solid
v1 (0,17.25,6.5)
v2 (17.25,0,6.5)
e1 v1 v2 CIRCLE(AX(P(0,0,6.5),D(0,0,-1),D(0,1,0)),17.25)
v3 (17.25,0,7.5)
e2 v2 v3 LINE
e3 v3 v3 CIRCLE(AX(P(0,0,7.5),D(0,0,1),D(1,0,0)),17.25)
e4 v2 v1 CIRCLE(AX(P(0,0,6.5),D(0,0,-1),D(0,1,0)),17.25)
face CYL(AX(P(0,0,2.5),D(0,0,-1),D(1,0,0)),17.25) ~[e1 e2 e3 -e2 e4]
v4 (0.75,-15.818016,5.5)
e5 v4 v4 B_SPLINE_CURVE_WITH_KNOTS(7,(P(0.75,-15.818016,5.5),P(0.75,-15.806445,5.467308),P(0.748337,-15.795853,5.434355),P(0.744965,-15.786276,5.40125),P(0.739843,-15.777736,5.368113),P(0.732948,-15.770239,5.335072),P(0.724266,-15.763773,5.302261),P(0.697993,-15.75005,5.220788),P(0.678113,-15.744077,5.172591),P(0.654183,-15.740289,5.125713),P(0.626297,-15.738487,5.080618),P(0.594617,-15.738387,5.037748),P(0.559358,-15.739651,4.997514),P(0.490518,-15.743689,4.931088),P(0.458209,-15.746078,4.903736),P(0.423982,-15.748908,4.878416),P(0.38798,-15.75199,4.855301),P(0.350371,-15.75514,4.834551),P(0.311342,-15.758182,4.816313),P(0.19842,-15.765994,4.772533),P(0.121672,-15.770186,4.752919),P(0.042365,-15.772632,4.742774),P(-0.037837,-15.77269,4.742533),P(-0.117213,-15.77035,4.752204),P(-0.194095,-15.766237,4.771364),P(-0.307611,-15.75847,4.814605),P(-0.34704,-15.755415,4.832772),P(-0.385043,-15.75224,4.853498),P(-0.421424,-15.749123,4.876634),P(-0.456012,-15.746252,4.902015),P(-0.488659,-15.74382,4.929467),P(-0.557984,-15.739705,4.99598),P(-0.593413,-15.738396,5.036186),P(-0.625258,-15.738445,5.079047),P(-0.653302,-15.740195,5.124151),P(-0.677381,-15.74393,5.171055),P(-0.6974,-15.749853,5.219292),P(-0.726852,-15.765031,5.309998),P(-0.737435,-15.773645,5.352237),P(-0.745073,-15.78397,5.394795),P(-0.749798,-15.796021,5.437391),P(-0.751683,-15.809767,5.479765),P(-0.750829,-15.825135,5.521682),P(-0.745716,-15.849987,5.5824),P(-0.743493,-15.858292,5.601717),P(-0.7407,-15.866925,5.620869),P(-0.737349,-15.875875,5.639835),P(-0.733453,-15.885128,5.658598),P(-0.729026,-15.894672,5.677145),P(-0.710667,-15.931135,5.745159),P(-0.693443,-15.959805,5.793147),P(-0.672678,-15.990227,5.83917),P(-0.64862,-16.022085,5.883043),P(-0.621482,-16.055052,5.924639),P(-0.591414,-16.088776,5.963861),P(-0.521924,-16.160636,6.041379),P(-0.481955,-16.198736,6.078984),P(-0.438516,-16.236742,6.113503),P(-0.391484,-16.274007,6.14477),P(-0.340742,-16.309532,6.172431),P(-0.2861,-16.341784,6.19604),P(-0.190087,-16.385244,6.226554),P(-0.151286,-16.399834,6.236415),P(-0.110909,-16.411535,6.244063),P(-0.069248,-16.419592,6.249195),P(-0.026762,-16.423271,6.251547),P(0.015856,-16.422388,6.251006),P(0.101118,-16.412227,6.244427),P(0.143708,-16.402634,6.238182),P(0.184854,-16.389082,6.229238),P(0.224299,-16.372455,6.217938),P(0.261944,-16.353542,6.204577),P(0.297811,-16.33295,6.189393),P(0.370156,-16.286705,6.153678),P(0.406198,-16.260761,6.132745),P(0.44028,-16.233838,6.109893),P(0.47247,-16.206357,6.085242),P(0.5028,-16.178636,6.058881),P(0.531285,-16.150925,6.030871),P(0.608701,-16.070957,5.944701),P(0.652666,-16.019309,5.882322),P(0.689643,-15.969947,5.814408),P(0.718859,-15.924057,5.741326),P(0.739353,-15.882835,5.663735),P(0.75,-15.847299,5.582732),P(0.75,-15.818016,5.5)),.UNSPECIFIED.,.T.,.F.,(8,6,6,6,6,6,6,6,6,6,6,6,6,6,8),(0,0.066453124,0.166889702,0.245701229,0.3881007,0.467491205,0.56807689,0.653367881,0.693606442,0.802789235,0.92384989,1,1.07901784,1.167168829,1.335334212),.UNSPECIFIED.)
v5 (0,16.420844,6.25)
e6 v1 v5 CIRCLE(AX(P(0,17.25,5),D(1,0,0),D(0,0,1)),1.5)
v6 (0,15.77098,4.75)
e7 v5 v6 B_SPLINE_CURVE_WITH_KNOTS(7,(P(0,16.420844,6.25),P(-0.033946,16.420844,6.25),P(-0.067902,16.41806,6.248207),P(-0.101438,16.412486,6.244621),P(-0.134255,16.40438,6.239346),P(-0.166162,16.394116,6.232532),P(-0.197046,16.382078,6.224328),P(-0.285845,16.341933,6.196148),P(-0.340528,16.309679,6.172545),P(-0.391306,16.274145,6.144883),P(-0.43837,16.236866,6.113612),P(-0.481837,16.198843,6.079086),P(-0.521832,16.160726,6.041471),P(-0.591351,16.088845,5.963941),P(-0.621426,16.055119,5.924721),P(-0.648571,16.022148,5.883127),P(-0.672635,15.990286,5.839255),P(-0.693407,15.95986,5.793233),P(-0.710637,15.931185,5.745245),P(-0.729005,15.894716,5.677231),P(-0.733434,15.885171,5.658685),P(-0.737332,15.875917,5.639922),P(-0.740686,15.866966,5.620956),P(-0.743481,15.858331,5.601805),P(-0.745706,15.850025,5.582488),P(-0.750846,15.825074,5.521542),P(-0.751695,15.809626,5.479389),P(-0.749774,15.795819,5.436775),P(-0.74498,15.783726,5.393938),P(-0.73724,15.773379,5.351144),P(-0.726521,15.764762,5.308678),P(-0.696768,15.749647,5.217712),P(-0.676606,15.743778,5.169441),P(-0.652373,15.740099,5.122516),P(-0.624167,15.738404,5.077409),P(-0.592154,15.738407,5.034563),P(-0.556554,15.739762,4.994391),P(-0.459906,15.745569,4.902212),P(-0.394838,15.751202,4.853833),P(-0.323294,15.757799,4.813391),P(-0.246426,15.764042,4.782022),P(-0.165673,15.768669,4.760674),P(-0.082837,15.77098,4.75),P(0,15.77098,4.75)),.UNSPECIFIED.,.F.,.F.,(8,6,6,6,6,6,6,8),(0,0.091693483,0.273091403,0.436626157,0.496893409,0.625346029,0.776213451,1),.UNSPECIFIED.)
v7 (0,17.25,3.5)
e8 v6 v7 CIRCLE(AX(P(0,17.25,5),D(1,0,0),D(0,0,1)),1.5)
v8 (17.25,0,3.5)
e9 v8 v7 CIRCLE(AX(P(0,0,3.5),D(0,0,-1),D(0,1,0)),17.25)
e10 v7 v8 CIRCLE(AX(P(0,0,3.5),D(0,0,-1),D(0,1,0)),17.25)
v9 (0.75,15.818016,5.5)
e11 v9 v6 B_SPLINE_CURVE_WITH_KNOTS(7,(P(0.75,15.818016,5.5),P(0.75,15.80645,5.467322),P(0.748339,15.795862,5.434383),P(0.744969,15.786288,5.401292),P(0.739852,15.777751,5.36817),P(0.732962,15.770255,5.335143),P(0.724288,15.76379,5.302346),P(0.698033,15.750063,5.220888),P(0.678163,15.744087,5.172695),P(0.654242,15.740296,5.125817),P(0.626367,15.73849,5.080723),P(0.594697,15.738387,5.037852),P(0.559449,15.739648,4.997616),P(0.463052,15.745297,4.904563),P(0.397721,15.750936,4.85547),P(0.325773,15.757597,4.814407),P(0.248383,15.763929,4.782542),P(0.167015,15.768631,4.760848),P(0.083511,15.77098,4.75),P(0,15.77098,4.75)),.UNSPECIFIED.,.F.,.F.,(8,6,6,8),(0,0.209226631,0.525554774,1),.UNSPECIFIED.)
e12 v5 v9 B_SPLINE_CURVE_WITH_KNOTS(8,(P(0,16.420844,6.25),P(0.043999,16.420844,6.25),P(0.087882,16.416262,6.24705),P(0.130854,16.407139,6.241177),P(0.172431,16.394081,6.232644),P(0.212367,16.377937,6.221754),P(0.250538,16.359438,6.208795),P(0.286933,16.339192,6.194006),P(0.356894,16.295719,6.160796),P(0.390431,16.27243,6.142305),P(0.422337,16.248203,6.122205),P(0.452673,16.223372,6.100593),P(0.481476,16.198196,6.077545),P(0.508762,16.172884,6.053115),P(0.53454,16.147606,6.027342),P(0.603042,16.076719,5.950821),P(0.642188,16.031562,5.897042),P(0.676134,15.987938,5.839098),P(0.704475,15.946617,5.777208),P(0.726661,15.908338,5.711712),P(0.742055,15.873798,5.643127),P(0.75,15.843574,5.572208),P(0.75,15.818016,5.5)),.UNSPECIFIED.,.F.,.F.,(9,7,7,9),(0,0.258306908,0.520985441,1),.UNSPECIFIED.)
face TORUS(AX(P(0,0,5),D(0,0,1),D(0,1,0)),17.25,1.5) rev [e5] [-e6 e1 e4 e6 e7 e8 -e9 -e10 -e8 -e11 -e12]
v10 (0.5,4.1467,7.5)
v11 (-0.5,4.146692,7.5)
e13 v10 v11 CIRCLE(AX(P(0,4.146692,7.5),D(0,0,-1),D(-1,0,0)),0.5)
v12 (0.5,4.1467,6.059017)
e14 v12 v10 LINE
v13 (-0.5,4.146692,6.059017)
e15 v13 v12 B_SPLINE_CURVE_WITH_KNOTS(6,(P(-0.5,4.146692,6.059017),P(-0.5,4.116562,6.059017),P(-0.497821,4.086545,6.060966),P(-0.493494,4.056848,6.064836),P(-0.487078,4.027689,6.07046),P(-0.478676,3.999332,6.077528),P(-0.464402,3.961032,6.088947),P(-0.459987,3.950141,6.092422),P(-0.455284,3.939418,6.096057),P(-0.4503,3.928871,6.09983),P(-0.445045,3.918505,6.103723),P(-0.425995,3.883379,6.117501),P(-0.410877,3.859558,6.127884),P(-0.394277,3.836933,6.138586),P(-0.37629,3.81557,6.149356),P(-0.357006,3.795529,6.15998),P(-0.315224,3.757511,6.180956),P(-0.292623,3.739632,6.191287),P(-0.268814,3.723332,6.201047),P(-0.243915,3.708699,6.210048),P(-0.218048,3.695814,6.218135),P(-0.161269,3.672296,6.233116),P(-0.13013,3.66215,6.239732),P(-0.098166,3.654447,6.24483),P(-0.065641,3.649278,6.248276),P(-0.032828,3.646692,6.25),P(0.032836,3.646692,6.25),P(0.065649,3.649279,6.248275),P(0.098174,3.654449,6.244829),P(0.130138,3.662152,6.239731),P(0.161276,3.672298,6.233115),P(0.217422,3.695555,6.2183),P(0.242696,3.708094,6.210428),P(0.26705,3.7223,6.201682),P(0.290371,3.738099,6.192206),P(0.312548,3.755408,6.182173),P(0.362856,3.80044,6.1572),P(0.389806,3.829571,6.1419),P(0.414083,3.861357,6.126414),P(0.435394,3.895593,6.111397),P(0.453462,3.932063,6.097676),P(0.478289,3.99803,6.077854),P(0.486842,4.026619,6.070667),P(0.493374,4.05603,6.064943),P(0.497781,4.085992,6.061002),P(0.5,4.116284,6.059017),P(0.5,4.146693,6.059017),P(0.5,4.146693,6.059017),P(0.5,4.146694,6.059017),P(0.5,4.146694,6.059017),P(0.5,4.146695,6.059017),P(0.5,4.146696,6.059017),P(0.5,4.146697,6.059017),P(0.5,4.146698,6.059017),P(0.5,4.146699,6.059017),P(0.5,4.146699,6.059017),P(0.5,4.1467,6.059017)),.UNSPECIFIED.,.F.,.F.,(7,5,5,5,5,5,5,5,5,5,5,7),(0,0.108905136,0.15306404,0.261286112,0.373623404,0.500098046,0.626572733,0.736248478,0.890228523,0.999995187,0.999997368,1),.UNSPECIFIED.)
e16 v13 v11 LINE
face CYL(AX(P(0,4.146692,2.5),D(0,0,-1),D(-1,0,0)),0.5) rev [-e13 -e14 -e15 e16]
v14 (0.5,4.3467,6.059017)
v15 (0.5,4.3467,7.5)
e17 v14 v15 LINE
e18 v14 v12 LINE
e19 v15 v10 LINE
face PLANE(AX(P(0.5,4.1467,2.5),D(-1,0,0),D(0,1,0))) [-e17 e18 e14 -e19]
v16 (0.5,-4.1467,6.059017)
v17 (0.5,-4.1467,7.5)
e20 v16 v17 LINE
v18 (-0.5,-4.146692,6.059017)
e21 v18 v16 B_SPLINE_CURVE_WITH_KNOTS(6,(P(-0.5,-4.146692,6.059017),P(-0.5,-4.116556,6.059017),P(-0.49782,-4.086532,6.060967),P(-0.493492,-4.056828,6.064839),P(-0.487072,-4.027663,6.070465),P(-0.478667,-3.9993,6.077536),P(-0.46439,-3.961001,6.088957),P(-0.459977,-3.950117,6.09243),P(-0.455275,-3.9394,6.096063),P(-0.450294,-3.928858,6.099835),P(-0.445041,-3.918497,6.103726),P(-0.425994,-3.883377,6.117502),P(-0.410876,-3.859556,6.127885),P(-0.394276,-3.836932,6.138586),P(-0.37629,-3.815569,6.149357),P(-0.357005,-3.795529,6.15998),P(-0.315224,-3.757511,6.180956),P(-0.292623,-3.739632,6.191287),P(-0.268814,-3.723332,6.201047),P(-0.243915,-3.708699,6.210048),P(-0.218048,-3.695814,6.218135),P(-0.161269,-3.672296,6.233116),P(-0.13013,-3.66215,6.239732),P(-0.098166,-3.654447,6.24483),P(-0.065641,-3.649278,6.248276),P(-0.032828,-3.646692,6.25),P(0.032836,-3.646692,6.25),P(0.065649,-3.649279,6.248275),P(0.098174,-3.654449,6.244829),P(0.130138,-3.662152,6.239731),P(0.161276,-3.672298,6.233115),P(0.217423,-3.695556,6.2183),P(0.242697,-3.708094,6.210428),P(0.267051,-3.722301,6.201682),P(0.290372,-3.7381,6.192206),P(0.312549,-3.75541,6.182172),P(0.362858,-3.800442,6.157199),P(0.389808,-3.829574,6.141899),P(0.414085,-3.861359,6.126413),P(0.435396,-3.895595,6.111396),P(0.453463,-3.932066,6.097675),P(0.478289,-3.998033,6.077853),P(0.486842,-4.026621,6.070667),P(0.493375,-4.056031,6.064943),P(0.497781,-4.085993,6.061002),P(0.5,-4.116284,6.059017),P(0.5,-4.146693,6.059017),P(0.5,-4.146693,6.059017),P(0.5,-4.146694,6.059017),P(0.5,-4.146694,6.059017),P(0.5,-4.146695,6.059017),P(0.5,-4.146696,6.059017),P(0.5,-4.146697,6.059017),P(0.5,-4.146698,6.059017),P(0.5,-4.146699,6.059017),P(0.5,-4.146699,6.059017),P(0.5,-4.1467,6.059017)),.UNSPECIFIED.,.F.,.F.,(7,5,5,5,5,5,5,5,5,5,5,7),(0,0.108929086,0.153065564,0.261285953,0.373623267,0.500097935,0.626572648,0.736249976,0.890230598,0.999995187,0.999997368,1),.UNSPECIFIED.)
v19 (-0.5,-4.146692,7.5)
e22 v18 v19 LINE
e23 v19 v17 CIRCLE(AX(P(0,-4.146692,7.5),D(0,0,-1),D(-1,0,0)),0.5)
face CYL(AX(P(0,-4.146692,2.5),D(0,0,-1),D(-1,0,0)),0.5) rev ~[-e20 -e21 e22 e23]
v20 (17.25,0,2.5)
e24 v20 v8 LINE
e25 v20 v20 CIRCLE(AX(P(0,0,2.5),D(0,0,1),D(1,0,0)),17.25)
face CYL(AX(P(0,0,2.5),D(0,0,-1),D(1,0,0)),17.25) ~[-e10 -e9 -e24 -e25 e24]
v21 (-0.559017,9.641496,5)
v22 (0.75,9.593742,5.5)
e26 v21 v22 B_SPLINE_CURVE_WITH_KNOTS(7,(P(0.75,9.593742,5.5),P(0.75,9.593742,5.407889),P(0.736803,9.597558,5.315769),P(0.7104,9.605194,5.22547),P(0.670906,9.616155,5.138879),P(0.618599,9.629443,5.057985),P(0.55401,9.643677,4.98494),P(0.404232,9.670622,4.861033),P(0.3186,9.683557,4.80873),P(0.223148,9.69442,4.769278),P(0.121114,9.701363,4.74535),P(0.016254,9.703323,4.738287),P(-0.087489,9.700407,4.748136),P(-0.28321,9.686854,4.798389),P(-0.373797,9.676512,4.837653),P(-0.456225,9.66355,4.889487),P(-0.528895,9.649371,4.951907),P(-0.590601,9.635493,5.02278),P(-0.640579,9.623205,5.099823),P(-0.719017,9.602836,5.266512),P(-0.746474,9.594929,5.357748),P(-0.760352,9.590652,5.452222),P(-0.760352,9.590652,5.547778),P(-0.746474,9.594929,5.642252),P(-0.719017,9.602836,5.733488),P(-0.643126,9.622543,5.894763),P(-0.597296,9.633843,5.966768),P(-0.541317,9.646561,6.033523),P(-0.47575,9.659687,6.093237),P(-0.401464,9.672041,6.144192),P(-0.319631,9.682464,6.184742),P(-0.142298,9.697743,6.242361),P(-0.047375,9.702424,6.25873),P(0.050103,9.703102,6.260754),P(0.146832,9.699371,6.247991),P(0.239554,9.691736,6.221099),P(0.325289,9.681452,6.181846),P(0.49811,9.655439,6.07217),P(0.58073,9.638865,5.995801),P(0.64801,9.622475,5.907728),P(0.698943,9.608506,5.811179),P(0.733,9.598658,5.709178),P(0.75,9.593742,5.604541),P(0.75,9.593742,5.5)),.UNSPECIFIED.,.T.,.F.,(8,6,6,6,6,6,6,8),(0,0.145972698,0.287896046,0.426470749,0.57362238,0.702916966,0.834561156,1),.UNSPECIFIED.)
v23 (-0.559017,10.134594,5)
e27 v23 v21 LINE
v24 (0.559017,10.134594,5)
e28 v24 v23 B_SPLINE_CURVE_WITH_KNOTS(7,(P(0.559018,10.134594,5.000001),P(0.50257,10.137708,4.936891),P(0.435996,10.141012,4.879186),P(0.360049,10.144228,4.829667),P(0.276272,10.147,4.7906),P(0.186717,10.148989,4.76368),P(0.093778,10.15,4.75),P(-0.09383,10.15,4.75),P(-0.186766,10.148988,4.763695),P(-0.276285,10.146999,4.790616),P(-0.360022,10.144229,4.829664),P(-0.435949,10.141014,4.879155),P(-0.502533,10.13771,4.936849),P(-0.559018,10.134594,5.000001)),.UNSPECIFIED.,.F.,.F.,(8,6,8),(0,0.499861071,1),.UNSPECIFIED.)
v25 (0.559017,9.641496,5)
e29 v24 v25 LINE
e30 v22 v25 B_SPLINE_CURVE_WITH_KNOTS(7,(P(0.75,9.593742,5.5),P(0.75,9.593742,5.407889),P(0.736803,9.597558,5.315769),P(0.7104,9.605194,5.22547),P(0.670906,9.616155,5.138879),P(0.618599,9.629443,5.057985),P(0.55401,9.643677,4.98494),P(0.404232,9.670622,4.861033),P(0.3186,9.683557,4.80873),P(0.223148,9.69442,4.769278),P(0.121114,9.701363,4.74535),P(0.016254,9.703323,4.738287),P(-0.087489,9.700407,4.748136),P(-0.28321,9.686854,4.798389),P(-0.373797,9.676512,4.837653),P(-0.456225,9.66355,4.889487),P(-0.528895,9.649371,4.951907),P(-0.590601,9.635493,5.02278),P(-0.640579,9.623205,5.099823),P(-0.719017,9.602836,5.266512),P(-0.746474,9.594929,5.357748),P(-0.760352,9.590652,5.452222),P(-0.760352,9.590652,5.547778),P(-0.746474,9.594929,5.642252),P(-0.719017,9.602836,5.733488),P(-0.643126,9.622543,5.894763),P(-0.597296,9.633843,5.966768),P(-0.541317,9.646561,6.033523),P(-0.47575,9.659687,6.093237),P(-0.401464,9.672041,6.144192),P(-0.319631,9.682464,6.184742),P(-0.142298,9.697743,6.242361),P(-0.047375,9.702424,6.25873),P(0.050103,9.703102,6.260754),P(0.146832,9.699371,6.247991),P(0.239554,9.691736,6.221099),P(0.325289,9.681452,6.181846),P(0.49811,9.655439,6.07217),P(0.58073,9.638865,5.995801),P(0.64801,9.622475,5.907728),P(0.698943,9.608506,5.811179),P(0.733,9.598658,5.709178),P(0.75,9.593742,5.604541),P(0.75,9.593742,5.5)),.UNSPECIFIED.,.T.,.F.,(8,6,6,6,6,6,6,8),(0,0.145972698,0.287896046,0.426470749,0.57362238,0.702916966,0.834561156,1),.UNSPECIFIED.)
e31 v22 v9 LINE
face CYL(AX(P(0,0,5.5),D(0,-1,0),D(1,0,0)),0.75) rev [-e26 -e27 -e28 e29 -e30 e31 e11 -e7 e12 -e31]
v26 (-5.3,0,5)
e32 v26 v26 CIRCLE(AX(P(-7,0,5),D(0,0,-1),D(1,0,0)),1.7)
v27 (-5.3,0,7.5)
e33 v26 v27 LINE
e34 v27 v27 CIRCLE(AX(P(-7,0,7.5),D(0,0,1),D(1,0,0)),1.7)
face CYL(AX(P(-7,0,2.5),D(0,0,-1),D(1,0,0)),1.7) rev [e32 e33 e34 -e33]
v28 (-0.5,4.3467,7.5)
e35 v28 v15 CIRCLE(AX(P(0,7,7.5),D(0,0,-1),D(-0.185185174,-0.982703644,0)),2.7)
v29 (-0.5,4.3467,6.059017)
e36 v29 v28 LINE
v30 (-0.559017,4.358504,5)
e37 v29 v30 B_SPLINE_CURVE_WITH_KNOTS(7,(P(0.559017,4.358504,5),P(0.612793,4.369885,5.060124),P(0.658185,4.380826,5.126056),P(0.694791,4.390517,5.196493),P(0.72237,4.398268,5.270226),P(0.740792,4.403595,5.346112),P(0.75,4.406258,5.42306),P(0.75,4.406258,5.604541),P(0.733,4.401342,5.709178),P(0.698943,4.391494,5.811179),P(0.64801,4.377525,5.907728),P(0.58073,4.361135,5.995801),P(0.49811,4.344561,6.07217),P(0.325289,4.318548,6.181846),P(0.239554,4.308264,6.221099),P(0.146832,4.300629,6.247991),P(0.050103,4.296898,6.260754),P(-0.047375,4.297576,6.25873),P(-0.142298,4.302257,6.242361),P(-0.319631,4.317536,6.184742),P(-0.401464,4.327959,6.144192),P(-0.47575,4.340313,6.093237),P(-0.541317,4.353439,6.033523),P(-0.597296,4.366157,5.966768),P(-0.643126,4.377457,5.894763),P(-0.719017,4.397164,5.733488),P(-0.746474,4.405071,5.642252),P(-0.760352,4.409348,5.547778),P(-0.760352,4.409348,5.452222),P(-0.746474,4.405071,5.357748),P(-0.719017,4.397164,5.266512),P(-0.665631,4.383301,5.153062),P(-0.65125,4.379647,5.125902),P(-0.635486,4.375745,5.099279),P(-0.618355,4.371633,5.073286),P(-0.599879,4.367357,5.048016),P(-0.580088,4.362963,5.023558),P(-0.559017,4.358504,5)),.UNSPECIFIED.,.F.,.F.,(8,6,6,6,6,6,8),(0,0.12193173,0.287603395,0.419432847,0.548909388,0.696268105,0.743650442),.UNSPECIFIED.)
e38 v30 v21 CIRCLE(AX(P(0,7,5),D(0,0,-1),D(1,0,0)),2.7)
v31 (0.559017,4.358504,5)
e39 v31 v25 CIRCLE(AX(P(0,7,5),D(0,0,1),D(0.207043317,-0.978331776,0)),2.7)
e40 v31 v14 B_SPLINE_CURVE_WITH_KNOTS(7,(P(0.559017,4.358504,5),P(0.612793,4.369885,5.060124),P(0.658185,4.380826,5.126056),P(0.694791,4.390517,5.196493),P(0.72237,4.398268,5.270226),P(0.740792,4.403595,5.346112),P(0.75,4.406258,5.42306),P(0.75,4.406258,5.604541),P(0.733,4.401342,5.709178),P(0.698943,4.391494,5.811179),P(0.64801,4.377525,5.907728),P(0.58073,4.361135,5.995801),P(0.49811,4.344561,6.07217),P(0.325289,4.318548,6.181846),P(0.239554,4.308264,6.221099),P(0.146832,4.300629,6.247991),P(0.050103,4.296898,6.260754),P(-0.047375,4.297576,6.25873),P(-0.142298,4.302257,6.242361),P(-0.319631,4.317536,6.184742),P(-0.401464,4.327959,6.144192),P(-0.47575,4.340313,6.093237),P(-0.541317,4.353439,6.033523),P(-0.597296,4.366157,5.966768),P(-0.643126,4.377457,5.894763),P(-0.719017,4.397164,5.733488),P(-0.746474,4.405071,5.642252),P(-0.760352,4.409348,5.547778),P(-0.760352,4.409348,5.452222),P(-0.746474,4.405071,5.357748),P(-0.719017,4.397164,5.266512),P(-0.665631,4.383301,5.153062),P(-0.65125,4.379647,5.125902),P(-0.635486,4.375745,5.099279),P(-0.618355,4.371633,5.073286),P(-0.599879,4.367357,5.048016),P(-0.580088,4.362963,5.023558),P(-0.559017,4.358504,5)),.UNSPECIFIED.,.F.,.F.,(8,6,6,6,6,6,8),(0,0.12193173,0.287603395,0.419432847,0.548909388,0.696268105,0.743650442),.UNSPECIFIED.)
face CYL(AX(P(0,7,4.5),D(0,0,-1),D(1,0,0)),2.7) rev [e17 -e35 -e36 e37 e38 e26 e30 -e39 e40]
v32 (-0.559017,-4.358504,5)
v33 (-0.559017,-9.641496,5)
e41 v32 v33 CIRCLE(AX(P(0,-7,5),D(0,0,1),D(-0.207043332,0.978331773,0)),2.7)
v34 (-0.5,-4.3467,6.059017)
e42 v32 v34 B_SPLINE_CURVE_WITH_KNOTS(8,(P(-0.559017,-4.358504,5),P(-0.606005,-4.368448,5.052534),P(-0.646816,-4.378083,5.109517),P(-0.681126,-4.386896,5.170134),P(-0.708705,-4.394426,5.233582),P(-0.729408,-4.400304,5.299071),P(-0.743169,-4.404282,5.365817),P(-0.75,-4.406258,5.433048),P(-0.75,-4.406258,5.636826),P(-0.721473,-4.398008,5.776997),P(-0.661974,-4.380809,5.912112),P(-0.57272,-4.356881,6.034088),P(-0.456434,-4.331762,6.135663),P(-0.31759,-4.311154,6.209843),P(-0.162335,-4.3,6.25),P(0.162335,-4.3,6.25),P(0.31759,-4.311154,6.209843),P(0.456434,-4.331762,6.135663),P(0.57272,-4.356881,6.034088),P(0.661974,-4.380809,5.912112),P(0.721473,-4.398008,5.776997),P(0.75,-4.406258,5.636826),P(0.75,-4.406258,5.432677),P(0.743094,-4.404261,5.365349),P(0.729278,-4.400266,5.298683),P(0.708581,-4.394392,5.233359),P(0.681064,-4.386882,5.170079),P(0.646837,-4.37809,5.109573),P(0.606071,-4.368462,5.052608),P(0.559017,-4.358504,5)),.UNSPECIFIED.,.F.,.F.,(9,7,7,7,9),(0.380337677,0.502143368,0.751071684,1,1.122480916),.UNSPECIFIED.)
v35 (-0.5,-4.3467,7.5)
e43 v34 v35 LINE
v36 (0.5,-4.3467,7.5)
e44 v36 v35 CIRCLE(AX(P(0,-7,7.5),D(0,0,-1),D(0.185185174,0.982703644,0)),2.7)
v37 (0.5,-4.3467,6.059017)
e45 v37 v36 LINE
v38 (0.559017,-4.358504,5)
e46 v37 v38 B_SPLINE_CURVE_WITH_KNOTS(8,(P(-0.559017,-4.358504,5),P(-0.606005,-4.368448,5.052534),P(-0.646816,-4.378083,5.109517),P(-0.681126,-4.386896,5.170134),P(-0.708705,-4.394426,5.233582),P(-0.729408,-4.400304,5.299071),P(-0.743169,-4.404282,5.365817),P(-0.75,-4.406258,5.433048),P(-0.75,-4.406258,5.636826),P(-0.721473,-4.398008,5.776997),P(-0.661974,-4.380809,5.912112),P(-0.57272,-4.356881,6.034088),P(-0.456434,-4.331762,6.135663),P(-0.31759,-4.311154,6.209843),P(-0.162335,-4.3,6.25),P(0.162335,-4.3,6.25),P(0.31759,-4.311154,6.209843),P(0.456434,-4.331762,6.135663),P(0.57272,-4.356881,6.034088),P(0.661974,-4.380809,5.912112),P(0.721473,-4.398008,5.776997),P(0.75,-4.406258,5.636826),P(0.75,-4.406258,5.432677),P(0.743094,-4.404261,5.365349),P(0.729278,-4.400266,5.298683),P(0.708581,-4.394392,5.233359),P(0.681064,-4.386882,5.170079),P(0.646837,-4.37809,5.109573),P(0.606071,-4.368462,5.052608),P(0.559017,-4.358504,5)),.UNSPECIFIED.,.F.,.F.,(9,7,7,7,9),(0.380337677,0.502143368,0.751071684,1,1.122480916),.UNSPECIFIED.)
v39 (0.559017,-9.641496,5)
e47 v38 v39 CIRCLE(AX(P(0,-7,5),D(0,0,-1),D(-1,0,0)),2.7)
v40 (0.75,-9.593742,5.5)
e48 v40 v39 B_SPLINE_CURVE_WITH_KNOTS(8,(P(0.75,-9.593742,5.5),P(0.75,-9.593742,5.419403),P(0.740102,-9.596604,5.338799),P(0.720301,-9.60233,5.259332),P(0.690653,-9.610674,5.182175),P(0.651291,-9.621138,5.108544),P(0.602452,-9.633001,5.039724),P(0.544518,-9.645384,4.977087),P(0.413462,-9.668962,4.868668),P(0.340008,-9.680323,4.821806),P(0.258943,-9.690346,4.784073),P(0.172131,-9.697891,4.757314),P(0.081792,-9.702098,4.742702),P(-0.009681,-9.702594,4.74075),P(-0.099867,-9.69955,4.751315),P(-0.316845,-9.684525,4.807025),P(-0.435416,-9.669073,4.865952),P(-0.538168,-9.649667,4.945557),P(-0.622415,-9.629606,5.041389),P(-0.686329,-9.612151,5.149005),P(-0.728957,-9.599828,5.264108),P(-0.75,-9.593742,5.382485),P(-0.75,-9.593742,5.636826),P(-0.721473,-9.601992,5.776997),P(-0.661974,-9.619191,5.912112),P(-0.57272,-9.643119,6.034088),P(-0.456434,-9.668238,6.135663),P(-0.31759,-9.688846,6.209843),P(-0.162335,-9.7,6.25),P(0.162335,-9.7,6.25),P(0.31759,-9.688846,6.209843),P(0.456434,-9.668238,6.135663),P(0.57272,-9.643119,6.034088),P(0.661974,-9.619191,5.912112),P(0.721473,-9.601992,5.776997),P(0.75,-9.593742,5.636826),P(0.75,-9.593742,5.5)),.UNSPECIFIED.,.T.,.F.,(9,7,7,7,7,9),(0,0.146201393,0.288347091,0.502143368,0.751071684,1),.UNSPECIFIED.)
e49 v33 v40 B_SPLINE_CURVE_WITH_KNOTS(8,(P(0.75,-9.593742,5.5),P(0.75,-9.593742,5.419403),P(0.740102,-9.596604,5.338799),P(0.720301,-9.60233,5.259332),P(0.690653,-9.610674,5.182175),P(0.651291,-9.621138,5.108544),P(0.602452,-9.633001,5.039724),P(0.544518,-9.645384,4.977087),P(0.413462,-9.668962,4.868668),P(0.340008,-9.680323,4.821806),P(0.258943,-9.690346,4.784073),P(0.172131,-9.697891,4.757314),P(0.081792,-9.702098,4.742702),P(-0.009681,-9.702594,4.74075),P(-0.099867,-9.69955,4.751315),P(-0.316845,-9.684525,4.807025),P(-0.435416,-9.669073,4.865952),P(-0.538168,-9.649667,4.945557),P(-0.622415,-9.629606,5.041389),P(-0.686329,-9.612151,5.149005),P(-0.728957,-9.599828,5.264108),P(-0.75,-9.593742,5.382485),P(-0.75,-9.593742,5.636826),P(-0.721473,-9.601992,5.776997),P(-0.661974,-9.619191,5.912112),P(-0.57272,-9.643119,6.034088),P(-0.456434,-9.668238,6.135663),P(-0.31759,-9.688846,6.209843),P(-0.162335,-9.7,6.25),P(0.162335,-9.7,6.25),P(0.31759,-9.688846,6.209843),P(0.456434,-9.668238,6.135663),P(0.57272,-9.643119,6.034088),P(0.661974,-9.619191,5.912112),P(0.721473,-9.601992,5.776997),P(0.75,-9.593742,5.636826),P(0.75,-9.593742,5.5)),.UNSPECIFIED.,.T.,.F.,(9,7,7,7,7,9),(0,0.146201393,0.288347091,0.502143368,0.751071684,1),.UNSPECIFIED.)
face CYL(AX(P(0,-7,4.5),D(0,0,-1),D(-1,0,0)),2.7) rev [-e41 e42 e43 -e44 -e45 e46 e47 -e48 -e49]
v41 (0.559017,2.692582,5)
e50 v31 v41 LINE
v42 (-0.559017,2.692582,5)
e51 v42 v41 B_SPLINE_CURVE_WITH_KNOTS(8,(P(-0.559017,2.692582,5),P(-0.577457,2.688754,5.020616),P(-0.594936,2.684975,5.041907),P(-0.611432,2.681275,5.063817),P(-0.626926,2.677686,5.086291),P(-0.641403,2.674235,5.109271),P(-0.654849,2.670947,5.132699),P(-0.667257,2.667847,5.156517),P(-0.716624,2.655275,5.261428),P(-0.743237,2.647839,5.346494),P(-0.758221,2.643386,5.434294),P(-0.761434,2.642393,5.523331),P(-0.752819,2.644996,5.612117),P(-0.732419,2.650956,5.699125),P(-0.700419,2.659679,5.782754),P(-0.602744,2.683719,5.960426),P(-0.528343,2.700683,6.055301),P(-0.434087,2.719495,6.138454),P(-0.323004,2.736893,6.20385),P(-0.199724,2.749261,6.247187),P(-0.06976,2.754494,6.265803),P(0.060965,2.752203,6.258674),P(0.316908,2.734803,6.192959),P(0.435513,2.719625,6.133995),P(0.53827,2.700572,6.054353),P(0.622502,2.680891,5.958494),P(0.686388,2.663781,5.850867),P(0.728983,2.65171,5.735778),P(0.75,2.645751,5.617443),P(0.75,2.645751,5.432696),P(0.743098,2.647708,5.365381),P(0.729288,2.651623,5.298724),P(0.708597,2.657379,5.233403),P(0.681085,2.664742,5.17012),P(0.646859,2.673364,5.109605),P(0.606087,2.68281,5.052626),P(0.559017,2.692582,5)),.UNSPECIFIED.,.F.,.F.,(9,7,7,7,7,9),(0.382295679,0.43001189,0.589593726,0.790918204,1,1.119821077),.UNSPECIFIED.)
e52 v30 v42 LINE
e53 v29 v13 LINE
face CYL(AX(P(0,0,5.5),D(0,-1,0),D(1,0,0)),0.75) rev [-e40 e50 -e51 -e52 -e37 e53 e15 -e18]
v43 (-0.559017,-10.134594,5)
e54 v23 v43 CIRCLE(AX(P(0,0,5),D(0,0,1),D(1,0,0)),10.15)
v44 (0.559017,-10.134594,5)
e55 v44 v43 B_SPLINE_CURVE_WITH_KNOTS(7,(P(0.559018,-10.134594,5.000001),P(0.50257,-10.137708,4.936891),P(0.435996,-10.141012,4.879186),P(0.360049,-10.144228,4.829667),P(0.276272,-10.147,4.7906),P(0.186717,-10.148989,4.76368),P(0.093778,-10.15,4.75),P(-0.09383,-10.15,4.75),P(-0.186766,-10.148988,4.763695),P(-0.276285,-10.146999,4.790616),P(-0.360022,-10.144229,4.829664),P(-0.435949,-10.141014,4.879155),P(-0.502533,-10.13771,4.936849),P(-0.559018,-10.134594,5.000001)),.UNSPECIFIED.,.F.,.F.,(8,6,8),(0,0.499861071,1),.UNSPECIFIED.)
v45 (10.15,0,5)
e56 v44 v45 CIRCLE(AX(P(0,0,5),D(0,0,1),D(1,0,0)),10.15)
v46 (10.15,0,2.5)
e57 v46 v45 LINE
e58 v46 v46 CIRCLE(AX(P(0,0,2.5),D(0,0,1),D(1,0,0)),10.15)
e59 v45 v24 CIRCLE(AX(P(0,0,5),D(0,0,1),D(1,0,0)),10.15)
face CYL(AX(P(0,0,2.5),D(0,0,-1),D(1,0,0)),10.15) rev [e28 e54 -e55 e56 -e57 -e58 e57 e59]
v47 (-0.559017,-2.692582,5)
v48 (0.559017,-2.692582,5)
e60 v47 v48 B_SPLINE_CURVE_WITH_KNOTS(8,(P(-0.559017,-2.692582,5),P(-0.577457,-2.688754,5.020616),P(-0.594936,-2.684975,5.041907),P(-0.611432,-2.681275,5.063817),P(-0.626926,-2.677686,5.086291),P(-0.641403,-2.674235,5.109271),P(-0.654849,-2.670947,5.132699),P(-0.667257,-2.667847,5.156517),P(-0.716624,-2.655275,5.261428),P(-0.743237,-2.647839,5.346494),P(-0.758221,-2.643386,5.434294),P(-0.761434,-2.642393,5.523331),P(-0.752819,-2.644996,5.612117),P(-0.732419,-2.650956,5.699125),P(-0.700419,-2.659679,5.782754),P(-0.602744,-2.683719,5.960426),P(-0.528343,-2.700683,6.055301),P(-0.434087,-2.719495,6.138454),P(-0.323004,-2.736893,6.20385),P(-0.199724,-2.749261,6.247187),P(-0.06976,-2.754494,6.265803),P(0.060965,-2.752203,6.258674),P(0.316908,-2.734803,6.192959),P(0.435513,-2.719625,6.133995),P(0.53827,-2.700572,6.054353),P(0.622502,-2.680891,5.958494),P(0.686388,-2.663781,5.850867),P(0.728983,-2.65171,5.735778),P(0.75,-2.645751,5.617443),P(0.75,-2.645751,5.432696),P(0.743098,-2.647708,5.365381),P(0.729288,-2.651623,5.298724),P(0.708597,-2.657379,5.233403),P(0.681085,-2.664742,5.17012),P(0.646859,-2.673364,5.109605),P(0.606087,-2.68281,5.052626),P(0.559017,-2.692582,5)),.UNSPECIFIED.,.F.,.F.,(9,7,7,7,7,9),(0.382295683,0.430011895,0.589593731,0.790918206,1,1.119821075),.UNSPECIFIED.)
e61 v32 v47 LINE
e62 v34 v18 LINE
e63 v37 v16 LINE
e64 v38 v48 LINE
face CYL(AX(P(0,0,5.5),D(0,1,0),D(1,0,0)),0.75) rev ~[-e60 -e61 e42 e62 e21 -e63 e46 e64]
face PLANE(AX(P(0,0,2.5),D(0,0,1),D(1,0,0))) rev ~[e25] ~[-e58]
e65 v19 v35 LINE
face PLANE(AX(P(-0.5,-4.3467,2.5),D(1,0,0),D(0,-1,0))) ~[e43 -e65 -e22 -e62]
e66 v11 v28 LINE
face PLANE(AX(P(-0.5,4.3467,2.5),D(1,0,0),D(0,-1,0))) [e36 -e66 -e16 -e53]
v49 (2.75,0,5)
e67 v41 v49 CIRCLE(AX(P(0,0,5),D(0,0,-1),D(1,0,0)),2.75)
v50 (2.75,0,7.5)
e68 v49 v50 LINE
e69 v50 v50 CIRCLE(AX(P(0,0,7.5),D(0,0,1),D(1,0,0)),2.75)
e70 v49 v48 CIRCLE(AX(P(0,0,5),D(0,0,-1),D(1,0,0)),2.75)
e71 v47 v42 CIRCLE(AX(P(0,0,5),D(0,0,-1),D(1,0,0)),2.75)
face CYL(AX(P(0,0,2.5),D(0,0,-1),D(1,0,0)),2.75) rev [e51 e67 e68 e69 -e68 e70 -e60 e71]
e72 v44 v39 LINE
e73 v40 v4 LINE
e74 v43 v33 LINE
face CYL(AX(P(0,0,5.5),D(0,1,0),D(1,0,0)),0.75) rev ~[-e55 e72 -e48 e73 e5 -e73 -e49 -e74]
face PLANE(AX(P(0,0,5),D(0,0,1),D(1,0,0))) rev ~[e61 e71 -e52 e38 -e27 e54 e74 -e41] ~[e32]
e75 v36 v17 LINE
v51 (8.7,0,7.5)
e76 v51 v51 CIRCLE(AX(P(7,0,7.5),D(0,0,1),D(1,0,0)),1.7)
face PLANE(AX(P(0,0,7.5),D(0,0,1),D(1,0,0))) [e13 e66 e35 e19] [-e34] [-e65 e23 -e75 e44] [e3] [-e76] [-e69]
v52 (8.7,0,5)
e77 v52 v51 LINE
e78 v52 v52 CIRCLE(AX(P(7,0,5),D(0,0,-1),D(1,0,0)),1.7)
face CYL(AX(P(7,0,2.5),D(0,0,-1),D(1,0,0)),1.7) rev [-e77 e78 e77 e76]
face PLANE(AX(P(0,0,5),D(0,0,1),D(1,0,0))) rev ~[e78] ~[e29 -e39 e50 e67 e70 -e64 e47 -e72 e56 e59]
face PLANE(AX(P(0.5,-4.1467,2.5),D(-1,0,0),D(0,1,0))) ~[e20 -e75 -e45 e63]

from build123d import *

# Parameters (mm, degrees)
SKETCH065_R             = 17.25
SKETCH065_R_2           = 2.75
SKETCH065_R_3           = 1.7
PAD030_DEPTH            = 5
SKETCH066_R             = 2.7
POCKET034_DEPTH         = 101.092794
POLARPATTERN006_COUNT   = 2
SKETCH068_R             = 0.75
POCKET035_DEPTH         = 17.251
POCKET035_DEPTH_BACK    = 17.251
SKETCH078_R             = 10.15
POCKET045_DEPTH         = 2.5
POCKET046_DEPTH         = 103.092794
BODY017_PLACEMENT_ANGLE = 270


with BuildPart() as part:
    # Sketch065 → Pad030 (new body)
    with BuildSketch(Plane.XZ):
        Circle(SKETCH065_R)
        Circle(SKETCH065_R_2, mode=Mode.SUBTRACT)
        with Locations((0, 7)):
            Circle(SKETCH065_R_3, mode=Mode.SUBTRACT)
        with Locations((-7, 0)):
            Circle(SKETCH065_R_3, mode=Mode.SUBTRACT)
        with Locations((0, -7)):
            Circle(SKETCH065_R_3, mode=Mode.SUBTRACT)
        with Locations((7, 0)):
            Circle(SKETCH065_R_3, mode=Mode.SUBTRACT)
    extrude(amount=PAD030_DEPTH)

    # Sketch066 → Pocket034 (cut, through all)
    with BuildSketch(Plane.XZ.offset(2)):
        with Locations((0, 7)):
            Circle(SKETCH066_R)
    pocket034 = extrude(amount=POCKET034_DEPTH, mode=Mode.SUBTRACT)

    # PolarPattern006: Pocket034 ×2 about axis
    polarpattern006_axis = Axis((0, -2, 0), (0, -1, 0))
    for i in range(1, POLARPATTERN006_COUNT):
        add(pocket034.rotate(polarpattern006_axis, i * 360 / POLARPATTERN006_COUNT), mode=Mode.SUBTRACT)

    # Sketch067 → Groove004 (revolve, cut)
    with BuildSketch(Plane.YZ):
        with BuildLine():
            ThreePointArc((-4, 17.25), (-2.5, 15.75), (-1, 17.25))
            Line((-4, 17.25), (-1, 17.25))
        make_face()
    revolve(axis=Axis((0, 0, 0), (0, 1, 0)), mode=Mode.SUBTRACT)

    # Sketch068 → Pocket035 (cut, two sides)
    with BuildSketch(Plane.XY) as pocket035_sk:
        with Locations((0, -3)):
            Circle(SKETCH068_R)
    extrude(amount=-POCKET035_DEPTH, mode=Mode.SUBTRACT)
    extrude(pocket035_sk.sketch, amount=POCKET035_DEPTH_BACK, mode=Mode.SUBTRACT)

    # Sketch078 → Pocket045 (cut)
    with BuildSketch(Plane.XZ):
        Circle(SKETCH078_R)
    extrude(amount=POCKET045_DEPTH, mode=Mode.SUBTRACT)

    # Sketch080 → Pocket046 (cut, through all)
    with BuildSketch(Plane.XZ):
        with BuildLine():
            ThreePointArc((-0.5, 4.146692), (4e-06, 3.646692), (0.5, 4.1467))
            Line((0.5, 4.1467), (0.5, 4.3467))
            Line((0.5, 4.3467), (-0.5, 4.3467))
            Line((-0.5, 4.3467), (-0.5, 4.146692))
        make_face()
    pocket046 = extrude(amount=POCKET046_DEPTH, mode=Mode.SUBTRACT)

    # Mirrored008: Pocket046 across Sketch080 H_Axis
    add(pocket046.mirror(Plane(origin=(0, 0, 0), x_dir=(0, -1, 0), z_dir=(0, 0, 1))), mode=Mode.SUBTRACT)


with BuildPart() as part_1:
    # Body017 placement: moved
    add(part.part.moved(Location((0, 0, 2.5))).rotate(Axis((0, 0, 2.5), (1, 0, 0)), BODY017_PLACEMENT_ANGLE))


solid = part_1.part
